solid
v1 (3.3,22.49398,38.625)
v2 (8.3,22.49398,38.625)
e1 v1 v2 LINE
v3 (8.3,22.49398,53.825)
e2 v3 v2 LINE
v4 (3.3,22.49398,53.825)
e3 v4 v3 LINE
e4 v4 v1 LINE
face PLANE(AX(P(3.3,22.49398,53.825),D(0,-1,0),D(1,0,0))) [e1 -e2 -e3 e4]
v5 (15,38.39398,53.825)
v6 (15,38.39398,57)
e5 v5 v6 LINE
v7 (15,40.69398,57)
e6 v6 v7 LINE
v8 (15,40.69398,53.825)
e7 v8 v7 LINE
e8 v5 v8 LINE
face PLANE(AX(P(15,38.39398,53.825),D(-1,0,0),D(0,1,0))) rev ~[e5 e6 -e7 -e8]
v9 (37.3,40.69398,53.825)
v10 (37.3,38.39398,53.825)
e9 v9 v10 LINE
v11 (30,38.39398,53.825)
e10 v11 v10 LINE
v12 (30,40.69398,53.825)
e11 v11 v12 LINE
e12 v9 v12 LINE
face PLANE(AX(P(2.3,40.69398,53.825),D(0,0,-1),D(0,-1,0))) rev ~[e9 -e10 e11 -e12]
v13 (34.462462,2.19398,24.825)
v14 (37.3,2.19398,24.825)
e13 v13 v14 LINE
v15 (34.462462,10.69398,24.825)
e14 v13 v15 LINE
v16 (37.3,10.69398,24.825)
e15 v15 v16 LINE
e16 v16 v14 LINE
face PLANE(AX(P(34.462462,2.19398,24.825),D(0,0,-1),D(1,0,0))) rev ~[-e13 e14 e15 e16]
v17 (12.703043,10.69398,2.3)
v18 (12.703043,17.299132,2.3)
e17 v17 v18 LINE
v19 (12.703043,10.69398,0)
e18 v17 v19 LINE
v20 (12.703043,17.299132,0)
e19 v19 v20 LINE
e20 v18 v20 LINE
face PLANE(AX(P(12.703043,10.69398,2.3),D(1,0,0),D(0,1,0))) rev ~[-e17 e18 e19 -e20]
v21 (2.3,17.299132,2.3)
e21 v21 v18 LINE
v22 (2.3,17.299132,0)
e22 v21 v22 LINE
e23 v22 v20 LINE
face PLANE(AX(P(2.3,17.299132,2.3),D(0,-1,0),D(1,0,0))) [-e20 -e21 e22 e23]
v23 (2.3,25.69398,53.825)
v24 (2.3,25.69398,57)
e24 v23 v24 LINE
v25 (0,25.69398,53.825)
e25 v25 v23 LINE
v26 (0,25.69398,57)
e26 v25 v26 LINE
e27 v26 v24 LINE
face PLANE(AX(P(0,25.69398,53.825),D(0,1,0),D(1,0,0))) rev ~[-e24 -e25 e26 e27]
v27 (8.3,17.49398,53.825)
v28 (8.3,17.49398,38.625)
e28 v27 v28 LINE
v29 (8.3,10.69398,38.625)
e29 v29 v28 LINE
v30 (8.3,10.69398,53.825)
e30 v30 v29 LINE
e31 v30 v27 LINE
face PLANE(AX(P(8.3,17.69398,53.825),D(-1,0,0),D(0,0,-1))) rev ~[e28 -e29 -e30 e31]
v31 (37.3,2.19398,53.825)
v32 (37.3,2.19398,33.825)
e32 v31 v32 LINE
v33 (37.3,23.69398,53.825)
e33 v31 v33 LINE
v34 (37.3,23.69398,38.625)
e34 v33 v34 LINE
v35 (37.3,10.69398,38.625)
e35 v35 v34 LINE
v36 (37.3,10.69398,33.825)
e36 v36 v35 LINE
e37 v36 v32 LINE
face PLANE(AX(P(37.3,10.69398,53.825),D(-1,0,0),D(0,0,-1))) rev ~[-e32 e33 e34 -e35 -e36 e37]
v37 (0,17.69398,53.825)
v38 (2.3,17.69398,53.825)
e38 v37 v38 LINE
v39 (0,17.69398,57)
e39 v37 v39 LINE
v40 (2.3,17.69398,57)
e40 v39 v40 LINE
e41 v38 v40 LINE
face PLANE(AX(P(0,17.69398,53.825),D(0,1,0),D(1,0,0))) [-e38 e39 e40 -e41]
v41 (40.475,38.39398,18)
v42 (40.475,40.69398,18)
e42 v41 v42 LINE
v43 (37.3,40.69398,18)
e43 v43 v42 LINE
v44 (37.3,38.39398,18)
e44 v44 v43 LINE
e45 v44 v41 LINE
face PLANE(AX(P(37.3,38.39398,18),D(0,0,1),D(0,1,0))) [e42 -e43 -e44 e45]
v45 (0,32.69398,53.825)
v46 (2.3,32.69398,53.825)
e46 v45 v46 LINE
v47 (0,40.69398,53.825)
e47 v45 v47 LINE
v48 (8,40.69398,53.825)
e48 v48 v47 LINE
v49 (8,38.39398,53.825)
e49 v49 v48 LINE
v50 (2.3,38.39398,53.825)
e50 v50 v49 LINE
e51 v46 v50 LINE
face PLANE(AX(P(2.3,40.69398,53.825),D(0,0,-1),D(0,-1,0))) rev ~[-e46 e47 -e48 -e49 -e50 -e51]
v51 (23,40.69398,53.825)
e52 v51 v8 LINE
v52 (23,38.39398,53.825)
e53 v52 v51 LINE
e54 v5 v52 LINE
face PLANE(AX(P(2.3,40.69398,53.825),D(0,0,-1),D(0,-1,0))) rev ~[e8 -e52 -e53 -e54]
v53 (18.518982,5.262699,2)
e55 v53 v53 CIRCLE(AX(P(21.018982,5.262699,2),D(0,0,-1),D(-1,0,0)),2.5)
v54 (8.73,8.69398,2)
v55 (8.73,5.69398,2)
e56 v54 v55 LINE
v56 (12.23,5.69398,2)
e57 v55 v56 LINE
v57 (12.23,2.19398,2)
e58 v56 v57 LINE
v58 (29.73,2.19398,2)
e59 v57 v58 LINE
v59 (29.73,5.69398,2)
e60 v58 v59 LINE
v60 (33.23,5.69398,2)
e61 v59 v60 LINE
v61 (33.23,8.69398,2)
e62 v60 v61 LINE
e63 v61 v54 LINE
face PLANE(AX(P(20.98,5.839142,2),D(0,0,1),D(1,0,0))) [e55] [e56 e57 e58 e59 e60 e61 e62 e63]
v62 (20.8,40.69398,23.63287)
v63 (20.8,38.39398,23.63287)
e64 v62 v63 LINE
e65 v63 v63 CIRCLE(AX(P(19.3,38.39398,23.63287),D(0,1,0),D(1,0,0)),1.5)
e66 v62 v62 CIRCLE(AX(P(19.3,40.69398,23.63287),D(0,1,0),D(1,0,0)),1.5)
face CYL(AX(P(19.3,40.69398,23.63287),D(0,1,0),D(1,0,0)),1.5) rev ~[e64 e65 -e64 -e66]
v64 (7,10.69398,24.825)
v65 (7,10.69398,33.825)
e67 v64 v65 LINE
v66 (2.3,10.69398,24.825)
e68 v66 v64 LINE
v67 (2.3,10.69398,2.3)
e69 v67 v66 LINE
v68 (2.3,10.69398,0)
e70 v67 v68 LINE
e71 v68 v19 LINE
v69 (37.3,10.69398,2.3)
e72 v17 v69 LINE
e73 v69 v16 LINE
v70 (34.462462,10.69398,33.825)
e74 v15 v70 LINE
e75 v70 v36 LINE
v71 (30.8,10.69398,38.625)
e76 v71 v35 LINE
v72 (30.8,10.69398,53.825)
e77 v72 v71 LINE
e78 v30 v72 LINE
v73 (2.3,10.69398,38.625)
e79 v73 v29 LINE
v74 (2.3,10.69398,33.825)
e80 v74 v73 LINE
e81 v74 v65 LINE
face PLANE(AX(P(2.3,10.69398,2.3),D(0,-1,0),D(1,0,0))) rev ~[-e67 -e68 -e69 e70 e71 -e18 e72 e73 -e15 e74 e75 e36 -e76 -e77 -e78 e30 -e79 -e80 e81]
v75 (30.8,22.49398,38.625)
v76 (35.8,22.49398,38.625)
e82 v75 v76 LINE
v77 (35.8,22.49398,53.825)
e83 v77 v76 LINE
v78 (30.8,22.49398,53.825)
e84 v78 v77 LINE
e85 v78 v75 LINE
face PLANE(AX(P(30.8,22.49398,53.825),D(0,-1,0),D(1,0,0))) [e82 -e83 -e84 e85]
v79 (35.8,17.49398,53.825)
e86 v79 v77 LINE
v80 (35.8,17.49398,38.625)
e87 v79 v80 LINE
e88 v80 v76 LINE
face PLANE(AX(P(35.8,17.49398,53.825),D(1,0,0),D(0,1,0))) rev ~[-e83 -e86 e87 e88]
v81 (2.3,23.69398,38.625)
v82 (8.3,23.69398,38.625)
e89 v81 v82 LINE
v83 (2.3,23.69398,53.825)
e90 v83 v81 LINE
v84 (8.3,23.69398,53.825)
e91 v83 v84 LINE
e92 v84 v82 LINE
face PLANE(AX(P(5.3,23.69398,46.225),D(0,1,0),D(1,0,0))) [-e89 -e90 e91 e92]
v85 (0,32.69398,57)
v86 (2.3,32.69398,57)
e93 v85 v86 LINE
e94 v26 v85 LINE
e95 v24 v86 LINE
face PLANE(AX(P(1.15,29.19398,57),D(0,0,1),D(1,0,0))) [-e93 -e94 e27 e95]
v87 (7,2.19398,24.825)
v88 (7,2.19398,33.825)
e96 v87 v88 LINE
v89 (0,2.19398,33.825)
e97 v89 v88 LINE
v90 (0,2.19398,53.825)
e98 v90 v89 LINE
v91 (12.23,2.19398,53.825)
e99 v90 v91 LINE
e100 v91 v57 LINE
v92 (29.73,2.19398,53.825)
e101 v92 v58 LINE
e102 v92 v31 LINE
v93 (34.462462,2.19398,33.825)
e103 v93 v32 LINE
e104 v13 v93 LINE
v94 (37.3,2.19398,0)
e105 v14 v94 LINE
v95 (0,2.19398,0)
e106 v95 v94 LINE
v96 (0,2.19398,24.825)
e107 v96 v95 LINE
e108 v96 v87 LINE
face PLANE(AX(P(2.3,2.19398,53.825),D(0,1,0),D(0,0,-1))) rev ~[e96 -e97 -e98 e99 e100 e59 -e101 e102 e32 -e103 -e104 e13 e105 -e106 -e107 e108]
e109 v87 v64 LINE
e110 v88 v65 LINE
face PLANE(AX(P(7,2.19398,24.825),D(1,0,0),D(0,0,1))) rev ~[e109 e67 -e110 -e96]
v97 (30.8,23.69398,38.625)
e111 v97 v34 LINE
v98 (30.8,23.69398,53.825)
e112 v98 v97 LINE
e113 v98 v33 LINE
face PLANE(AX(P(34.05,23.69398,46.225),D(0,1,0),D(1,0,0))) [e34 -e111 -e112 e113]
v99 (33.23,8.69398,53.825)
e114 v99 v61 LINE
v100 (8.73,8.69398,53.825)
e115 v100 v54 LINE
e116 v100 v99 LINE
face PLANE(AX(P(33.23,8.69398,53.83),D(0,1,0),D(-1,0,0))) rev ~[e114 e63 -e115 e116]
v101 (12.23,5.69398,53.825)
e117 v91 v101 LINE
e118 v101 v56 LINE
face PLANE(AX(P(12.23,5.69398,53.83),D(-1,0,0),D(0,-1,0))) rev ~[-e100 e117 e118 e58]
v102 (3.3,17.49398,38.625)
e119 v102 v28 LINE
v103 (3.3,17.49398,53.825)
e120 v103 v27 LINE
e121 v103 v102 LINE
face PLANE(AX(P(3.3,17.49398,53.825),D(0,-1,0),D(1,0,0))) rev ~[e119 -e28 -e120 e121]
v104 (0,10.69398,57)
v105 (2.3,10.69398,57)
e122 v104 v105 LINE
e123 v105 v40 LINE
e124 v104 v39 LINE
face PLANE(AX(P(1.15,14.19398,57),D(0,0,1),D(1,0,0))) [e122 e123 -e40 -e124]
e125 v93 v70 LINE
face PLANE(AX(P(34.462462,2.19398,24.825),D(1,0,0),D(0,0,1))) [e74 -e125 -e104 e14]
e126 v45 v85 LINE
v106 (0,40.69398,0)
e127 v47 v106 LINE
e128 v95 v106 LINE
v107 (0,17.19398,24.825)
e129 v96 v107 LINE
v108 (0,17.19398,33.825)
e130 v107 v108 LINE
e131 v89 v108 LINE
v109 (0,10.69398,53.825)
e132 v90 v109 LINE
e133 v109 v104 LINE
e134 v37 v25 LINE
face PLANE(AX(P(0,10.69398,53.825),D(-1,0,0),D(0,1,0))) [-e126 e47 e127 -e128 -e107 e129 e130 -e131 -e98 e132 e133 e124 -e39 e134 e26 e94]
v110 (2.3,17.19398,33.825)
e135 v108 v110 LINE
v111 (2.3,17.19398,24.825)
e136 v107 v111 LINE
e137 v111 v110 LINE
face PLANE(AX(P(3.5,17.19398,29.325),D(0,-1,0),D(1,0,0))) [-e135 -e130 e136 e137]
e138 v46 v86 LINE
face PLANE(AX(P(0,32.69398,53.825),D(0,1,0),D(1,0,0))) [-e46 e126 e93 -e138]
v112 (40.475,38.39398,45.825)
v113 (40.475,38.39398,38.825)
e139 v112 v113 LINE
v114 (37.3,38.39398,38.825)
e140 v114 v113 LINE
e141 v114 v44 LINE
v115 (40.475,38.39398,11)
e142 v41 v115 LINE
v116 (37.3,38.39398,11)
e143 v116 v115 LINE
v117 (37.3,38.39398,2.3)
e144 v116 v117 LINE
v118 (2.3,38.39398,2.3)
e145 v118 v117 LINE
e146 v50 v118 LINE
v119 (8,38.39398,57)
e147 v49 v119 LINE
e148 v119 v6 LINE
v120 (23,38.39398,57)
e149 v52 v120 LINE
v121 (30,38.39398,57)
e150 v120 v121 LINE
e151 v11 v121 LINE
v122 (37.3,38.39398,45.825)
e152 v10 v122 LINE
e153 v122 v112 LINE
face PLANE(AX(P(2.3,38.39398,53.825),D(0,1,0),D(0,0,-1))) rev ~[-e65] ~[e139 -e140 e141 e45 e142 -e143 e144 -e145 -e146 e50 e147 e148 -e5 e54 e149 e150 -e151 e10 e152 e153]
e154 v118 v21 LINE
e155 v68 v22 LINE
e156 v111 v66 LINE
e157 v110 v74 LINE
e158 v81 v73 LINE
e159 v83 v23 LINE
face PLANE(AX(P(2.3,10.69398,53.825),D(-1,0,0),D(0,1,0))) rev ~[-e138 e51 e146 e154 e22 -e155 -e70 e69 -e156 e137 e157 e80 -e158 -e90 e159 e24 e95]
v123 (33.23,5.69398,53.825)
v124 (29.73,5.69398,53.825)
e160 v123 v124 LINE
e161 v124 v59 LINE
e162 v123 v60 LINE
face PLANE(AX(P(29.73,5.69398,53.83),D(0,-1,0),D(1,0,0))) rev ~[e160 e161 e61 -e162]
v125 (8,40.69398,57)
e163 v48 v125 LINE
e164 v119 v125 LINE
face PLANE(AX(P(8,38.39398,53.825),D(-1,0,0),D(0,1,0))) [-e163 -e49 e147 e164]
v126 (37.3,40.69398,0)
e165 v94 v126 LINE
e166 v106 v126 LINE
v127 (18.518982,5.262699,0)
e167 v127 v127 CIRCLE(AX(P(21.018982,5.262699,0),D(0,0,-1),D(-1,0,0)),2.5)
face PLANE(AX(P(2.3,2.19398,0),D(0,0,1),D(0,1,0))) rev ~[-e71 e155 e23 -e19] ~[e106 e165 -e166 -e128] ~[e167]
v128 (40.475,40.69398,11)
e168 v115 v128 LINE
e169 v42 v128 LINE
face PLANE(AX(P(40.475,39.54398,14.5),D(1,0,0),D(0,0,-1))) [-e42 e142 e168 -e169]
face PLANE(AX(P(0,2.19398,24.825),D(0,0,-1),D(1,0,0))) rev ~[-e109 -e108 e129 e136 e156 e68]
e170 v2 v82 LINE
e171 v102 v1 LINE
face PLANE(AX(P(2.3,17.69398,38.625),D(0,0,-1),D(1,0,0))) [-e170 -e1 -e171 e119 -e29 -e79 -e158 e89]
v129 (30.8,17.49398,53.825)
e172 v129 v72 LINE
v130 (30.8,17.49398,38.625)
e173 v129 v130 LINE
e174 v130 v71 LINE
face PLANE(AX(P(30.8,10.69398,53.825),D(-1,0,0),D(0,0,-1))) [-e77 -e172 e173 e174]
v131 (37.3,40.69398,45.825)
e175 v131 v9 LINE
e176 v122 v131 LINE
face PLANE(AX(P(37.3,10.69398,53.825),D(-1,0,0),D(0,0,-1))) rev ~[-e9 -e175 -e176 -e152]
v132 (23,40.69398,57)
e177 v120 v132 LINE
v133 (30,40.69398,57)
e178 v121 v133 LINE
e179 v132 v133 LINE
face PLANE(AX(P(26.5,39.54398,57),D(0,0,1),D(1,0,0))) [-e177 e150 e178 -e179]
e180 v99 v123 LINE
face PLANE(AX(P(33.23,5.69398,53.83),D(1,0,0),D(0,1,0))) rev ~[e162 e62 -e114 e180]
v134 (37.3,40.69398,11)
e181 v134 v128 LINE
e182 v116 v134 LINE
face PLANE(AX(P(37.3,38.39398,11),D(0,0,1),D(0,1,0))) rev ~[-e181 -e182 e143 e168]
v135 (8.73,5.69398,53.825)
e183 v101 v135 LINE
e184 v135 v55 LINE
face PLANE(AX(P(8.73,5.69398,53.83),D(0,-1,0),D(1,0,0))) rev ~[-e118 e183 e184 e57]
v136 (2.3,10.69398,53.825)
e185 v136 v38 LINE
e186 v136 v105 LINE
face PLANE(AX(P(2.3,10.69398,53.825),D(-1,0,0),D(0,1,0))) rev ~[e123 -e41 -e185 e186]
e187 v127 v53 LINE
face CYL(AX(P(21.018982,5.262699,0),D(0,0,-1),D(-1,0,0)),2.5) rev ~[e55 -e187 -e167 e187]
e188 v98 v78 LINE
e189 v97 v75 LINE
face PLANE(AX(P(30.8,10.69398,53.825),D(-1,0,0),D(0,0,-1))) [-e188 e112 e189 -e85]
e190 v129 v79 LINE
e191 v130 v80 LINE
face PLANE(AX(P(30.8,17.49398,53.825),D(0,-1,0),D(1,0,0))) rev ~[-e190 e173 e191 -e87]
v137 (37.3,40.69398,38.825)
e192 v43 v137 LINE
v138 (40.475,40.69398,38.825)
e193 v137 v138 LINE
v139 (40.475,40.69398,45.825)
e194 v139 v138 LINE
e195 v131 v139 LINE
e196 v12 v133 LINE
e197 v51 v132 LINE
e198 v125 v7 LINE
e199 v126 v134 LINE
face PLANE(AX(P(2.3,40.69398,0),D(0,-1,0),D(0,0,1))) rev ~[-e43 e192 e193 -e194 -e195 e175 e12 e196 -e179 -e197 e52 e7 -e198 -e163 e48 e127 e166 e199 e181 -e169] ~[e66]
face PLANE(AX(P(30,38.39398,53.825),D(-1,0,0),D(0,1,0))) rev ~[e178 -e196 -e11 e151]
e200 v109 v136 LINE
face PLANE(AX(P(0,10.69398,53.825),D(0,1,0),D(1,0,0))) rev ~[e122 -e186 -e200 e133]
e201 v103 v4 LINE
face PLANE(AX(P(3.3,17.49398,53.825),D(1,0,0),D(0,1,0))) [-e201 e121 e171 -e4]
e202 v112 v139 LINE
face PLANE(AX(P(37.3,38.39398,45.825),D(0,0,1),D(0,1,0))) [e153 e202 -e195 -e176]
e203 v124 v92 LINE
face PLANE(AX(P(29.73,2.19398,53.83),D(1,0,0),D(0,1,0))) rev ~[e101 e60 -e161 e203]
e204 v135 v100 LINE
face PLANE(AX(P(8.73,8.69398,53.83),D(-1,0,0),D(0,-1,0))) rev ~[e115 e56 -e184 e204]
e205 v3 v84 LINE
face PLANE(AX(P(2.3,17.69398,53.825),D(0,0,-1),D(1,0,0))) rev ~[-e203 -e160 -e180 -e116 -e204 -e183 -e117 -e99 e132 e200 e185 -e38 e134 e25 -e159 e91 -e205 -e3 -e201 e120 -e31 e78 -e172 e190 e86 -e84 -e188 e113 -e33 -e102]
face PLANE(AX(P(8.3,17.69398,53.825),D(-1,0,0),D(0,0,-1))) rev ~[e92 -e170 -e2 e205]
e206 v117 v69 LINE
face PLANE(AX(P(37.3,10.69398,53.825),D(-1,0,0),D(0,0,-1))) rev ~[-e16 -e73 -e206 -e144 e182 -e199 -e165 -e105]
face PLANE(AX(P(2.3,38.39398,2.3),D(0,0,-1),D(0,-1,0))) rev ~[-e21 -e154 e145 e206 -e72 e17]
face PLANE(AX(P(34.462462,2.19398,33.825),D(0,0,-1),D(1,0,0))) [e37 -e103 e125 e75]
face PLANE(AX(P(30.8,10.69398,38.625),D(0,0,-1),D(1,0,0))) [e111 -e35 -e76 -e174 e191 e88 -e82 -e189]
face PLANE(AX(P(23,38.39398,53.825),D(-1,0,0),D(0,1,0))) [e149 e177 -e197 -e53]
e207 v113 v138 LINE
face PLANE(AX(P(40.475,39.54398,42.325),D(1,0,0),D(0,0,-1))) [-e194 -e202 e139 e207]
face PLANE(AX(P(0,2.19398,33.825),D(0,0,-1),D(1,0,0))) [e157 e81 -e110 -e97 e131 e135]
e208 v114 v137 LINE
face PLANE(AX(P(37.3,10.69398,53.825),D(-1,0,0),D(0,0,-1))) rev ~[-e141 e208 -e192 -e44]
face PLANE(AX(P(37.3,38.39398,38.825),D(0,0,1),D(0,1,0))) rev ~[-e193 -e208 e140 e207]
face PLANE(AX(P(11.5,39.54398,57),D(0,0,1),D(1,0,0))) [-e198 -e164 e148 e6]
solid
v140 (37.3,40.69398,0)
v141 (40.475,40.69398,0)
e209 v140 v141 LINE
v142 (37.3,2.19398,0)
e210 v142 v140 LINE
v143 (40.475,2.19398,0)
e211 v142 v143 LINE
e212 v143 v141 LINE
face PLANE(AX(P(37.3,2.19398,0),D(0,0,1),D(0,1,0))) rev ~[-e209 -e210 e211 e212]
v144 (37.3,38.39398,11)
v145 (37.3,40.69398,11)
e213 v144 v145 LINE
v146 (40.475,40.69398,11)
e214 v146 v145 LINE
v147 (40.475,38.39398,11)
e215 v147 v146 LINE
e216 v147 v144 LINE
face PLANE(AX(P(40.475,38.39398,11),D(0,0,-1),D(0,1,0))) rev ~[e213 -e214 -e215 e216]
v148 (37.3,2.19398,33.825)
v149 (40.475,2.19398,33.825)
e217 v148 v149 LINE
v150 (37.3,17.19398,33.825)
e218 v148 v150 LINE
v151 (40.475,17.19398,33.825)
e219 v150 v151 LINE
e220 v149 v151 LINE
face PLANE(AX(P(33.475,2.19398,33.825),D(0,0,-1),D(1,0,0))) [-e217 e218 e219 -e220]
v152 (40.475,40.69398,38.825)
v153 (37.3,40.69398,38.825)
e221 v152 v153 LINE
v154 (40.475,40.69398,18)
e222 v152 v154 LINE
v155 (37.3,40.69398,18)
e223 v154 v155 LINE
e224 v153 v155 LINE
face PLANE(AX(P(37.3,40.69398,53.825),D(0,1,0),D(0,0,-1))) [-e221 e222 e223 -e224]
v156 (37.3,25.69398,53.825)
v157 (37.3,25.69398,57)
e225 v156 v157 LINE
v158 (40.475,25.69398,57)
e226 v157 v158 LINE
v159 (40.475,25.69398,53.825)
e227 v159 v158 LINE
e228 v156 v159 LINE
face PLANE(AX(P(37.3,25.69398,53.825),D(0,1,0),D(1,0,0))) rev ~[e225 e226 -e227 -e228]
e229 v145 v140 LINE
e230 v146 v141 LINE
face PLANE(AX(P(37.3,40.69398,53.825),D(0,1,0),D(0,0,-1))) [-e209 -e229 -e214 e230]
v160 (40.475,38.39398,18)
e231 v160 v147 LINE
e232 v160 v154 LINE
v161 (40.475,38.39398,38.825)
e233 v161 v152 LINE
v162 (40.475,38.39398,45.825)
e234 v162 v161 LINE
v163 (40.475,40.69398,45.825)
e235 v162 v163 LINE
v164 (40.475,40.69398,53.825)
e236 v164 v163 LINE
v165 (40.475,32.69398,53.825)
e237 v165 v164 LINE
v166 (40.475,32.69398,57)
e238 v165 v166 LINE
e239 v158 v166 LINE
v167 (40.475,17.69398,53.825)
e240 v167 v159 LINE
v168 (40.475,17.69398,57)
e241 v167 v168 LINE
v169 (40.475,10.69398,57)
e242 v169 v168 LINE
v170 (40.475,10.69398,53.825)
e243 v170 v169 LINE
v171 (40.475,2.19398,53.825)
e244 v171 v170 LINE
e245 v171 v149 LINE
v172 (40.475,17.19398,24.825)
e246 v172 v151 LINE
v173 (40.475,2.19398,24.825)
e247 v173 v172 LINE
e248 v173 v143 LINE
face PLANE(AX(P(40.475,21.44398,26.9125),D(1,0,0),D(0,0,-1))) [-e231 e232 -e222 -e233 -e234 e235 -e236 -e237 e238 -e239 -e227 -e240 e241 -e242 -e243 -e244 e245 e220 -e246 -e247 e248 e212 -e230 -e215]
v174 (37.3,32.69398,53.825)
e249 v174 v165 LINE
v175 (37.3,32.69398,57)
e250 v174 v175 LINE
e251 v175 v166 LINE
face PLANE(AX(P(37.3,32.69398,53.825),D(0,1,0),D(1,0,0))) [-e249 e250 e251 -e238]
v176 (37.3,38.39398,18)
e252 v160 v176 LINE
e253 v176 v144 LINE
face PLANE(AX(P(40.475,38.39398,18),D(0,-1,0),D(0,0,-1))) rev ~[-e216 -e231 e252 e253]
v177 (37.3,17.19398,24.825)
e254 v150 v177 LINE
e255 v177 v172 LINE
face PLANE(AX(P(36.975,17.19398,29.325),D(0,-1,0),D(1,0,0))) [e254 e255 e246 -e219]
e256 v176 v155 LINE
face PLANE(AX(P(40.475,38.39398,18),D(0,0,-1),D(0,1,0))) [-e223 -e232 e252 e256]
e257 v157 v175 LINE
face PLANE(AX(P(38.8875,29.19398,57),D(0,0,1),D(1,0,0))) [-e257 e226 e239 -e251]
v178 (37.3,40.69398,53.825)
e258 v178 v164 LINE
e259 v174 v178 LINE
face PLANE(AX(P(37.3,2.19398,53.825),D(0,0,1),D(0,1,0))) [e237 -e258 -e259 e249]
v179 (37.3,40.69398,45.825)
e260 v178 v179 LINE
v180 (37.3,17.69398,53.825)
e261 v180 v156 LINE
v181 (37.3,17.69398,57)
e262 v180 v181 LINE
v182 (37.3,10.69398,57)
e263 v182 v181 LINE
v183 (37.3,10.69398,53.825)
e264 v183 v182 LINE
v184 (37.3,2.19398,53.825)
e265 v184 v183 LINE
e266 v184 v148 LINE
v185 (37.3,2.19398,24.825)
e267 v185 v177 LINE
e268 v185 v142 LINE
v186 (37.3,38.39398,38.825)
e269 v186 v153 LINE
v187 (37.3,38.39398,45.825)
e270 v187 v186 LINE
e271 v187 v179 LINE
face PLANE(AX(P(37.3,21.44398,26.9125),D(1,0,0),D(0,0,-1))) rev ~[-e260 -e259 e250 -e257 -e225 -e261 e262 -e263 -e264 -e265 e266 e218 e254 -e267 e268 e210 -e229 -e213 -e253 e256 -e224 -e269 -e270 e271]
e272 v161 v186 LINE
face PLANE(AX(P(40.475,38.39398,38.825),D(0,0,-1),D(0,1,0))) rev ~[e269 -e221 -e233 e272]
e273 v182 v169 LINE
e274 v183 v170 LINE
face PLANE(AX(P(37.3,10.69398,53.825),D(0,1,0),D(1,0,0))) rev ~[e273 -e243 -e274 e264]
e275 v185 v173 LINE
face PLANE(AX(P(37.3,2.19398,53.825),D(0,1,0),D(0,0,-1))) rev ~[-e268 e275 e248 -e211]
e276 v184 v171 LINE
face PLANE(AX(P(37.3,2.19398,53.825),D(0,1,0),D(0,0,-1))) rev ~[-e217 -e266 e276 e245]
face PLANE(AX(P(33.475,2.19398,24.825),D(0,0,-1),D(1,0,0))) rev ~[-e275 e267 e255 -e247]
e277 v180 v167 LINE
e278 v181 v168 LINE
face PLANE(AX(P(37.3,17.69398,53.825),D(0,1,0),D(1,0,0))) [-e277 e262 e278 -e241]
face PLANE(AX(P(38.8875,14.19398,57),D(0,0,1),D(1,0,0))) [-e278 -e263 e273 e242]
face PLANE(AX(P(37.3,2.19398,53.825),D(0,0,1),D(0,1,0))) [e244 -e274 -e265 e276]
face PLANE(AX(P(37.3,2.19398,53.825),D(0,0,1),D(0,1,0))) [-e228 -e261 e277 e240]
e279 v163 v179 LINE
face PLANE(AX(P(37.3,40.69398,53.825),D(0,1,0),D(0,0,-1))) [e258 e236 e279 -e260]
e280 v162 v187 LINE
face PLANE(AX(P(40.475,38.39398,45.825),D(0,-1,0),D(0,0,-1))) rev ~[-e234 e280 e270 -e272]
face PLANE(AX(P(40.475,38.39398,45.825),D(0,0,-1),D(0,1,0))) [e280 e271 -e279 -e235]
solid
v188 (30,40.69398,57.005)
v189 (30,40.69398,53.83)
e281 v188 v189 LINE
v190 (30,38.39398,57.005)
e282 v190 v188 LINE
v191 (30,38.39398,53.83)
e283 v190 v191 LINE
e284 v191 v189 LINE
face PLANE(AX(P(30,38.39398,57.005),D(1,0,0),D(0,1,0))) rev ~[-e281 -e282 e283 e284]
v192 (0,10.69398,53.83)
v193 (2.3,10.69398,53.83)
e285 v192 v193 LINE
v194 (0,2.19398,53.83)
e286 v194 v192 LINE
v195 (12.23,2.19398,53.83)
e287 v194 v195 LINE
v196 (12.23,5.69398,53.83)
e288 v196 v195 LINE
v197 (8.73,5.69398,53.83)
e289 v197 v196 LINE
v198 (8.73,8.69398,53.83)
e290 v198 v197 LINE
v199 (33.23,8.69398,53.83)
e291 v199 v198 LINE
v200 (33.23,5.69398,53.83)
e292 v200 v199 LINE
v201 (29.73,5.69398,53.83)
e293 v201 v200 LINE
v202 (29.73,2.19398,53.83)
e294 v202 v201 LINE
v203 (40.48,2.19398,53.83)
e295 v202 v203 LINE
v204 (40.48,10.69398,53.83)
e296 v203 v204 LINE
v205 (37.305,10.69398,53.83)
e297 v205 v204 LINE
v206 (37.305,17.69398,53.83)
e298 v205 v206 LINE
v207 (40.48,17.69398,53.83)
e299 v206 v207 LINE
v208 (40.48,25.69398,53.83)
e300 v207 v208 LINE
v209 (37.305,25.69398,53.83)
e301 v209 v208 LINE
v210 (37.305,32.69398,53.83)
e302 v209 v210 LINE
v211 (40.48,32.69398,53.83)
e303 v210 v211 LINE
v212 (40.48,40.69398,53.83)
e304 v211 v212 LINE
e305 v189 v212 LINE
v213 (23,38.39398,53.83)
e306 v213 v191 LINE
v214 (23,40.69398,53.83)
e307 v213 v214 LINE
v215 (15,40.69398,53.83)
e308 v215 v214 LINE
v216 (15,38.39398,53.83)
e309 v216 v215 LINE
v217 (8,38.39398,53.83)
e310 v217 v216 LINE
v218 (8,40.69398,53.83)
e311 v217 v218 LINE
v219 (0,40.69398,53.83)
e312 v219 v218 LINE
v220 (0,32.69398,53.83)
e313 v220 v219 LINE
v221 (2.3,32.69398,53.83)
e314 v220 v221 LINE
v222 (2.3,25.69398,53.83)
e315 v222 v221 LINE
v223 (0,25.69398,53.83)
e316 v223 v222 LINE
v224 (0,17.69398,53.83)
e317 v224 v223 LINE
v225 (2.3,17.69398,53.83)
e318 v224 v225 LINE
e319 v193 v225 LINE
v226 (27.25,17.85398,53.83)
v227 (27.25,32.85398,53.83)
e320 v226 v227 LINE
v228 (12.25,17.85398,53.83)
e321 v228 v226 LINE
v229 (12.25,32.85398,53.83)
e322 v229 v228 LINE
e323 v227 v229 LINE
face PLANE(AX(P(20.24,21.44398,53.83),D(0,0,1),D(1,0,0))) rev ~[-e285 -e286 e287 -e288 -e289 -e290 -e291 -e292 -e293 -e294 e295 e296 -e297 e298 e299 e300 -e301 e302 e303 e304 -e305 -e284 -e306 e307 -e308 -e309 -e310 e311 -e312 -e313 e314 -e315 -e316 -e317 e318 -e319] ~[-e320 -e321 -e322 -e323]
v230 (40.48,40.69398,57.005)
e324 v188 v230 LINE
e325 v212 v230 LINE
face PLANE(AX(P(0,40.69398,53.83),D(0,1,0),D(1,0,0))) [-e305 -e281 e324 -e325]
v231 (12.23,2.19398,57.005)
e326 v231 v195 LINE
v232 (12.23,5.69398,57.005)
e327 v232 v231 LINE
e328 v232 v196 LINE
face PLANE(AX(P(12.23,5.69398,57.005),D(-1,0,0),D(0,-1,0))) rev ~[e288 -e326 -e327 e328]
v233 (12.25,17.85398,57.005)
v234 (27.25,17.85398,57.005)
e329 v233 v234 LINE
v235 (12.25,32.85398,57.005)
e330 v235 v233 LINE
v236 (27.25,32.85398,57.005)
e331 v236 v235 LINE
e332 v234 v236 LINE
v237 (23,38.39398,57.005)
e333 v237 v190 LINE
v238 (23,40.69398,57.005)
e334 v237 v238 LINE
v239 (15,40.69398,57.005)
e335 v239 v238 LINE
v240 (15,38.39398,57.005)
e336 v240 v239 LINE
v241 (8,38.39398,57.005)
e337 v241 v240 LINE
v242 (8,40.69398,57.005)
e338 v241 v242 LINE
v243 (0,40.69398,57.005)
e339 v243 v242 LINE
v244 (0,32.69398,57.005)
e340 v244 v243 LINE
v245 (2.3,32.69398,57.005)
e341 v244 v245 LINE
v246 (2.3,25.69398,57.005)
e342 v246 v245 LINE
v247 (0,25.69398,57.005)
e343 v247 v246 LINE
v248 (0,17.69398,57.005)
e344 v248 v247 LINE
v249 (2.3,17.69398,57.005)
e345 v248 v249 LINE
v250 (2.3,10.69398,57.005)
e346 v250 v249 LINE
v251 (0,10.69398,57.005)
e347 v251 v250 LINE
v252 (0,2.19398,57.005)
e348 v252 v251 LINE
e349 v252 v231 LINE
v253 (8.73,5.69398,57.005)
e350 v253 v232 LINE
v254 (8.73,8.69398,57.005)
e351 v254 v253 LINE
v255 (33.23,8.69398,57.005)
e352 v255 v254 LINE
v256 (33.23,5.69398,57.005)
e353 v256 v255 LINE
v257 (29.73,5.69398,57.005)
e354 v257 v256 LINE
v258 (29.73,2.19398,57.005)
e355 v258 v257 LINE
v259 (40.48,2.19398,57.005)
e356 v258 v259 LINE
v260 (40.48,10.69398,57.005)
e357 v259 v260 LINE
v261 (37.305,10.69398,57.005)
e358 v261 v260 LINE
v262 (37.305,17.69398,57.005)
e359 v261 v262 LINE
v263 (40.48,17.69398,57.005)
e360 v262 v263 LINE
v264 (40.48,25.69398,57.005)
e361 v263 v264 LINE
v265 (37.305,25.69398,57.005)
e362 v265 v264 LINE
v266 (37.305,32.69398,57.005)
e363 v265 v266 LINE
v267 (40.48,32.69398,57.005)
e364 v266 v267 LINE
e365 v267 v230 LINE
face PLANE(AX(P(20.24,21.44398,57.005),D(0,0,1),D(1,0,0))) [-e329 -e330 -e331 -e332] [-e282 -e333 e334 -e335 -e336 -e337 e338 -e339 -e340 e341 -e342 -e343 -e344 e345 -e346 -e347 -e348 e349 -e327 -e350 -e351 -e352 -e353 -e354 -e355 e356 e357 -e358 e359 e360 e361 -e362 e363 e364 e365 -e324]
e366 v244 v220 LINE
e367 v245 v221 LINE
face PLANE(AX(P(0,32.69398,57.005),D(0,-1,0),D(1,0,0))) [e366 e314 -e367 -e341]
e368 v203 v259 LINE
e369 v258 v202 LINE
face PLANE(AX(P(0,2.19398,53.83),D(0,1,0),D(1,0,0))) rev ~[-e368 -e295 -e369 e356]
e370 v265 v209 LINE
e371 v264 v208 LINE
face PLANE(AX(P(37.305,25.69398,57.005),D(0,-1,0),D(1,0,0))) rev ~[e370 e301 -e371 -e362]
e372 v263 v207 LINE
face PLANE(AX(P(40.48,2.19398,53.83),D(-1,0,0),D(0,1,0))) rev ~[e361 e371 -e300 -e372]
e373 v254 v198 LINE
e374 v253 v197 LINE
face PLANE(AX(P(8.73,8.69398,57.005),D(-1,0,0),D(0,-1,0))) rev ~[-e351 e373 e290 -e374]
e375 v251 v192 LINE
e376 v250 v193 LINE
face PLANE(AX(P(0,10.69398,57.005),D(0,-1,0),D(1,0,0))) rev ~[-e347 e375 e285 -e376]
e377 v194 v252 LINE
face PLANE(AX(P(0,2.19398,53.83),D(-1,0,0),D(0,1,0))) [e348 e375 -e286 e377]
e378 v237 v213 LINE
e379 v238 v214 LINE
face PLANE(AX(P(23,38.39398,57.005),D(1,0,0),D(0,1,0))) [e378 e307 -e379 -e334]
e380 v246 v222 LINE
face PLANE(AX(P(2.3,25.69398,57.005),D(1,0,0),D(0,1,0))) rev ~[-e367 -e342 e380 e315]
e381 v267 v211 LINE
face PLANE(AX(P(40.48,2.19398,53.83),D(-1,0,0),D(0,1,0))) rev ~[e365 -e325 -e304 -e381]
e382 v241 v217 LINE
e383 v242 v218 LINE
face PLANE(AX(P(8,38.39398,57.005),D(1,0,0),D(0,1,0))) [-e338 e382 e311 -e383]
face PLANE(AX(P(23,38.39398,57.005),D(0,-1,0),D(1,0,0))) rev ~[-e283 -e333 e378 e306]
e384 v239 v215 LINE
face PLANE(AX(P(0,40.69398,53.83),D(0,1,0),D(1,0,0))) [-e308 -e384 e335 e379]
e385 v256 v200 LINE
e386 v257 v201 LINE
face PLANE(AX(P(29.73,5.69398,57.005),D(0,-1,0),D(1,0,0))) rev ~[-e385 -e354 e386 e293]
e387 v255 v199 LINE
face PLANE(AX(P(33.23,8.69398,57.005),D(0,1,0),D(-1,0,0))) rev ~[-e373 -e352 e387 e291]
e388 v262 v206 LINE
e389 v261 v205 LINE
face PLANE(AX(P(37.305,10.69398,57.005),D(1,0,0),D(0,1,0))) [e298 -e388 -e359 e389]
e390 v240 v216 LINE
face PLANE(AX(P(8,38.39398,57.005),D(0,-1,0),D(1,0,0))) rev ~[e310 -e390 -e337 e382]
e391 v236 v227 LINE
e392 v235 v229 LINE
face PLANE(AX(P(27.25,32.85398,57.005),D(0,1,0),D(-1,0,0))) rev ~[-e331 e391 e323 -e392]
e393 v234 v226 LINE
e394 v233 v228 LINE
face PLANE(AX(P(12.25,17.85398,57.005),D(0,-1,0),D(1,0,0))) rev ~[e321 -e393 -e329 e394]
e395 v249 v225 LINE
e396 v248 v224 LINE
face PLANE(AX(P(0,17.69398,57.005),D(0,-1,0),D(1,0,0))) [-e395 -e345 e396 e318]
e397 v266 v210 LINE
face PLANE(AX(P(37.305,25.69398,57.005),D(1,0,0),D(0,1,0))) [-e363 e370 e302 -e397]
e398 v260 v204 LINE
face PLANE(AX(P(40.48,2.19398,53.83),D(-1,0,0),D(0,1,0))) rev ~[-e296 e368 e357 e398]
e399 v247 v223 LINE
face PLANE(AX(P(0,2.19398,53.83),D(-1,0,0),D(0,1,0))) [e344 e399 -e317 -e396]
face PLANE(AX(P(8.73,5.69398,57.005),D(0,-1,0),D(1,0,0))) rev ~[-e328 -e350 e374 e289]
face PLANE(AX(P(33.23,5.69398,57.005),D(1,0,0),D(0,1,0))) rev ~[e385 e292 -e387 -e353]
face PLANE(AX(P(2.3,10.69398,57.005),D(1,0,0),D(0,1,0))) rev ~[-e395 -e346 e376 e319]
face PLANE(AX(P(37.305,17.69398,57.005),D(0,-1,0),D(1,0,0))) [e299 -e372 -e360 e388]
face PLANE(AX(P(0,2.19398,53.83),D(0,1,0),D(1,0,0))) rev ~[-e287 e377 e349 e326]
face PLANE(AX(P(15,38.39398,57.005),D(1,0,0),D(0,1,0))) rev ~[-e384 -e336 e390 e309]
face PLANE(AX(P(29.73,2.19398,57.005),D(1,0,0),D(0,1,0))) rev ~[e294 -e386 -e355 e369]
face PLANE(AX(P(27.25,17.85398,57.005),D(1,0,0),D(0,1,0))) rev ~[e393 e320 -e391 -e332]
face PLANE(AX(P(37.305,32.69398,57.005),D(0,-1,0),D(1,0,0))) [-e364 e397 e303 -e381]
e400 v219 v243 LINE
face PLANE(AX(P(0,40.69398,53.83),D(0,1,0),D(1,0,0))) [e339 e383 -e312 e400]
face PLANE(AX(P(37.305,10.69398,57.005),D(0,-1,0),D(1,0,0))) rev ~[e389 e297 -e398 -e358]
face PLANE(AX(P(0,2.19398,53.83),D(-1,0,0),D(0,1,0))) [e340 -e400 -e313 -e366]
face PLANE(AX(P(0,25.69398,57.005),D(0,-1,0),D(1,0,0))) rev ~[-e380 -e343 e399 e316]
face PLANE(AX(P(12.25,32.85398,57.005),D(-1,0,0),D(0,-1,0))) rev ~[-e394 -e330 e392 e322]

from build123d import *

# Parameters (mm, degrees)
SKETCH1_W                    = 53.825
SKETCH1_H                    = 38.5
MAIN_EXTRUDE_DEPTH           = 2.3
WALLS_DEPTH                  = 35
SKETCH36_W                   = 7
SKETCH36_H                   = 2.3
SKETCH36_W_2                 = 2.3
SKETCH36_H_2                 = 7
PUZZLE_MAIN_WALLS_DEPTH      = 3.175
SKETCH25_W                   = 10.403042977
SKETCH25_H                   = 6.605151166
WIRE_HOLE_DEPTH              = 3.3
SKETCH19_W                   = 6.5
SKETCH19_H                   = 15.2
SKETCH19_W_2                 = 6
IR_MOUNT_DEPTH               = 7
MAGNET_MOUNT_HOLE_DEPTH      = 51.83
SKETCH40_R                   = 1.5
LED_SPACE_DEPTH              = 3
SKETCH42_W                   = 7
SKETCH42_H                   = 2.3
BOSS_EXTRUDE15_DEPTH         = 3.175
SKETCH44_W                   = 6
SKETCH44_H                   = 15.2
SKETCH44_W_2                 = 6.5
BOSS_EXTRUDE16_DEPTH         = 6
SKETCH45_W                   = 5
SKETCH45_H                   = 5
IR_PLACEMENT_DEPTH           = 15.2
SKETCH47_R                   = 2.5
CUT_EXTRUDE2_DEPTH           = 2
SKETCH48_W                   = 7
SKETCH48_H                   = 9
CUT_EXTRUDE3_DEPTH           = 15
SKETCH6_W                    = 40.48
SKETCH6_H                    = 38.5
FRONT_LID_DEPTH              = 3.175
NOSEPOKE_HOLE_DEPTH          = 3.175
SKETCH34_W                   = 2.3
SKETCH34_H                   = 7
SKETCH34_W_2                 = 7
SKETCH34_H_2                 = 2.3
SKETCH34_W_3                 = 3.175
PUZZLE_FRONT_LID_DEPTH       = 3.175
MAGNET_MOUNT_FRONT_LID_DEPTH = 3.175
SKETCH20_W                   = 53.825
SKETCH20_H                   = 38.5
SIDE_MAIN_DEPTH              = 3.175
SKETCH37_W                   = 3.175
SKETCH37_H                   = 7
PUZZLE_SIDE_PART_DEPTH       = 3.175
SKETCH41_W                   = 7
SKETCH41_H                   = 2.3
CUT_EXTRUDE1_DEPTH           = 3.175
SKETCH49_W                   = 7
SKETCH49_H                   = 9
CUT_EXTRUDE4_DEPTH           = 15


with BuildPart() as part:
    # Sketch1 → main extrude (new body)
    with BuildSketch(Plane(origin=(0, 0, 0), x_dir=(0, 0, -1), z_dir=(1, 0, 0))):
        with Locations((-26.9125, 21.443980352)):
            Rectangle(SKETCH1_W, SKETCH1_H)
    extrude(amount=MAIN_EXTRUDE_DEPTH)

    # Sketch3 → walls (add)
    with BuildSketch(Plane(origin=(2.3, 0, 0), x_dir=(0, 0, -1), z_dir=(1, 0, 0))):
        Polygon((-2.3, 38.393980352), (-2.3, 10.693980352), (-53.825, 10.693980352), (-53.825, 2.193980352), (0, 2.193980352), (0, 40.693980352), (-53.825, 40.693980352), (-53.825, 38.393980352), align=None)
    extrude(amount=WALLS_DEPTH)

    # Sketch36 → Puzzle (main walls) (add)
    with BuildSketch(Plane.XY.offset(53.825)):
        with Locations((11.5, 39.543980352)):
            Rectangle(SKETCH36_W, SKETCH36_H)
        with Locations((26.5, 39.543980352)):
            Rectangle(SKETCH36_W, SKETCH36_H)
        with Locations((1.15, 29.193980352)):
            Rectangle(SKETCH36_W_2, SKETCH36_H_2)
        with Locations((1.15, 14.193980352)):
            Rectangle(SKETCH36_W_2, SKETCH36_H_2)
    extrude(amount=PUZZLE_MAIN_WALLS_DEPTH)

    # Sketch25 → Wire Hole (cut, through all)
    with BuildSketch(Plane.XY.offset(2.3)):
        with Locations((7.501521489, 13.996555935)):
            Rectangle(SKETCH25_W, SKETCH25_H)
    extrude(amount=-WIRE_HOLE_DEPTH, mode=Mode.SUBTRACT)

    # Sketch19 → IR mount (add)
    with BuildSketch(Plane(origin=(0, 10.693980352, 0), x_dir=(1, 0, 0), z_dir=(0, 1, 0))):
        with Locations((34.05, -46.225)):
            Rectangle(SKETCH19_W, SKETCH19_H)
        with Locations((5.3, -46.225)):
            Rectangle(SKETCH19_W_2, SKETCH19_H)
    extrude(amount=IR_MOUNT_DEPTH)

    # Sketch24 → Magnet Mount Hole (cut)
    with BuildSketch(Plane.XY.offset(53.83)):
        Polygon((12.23, 2.193980352), (29.73, 2.193980352), (29.73, 5.693980352), (33.23, 5.693980352), (33.23, 8.693980352), (8.73, 8.693980352), (8.73, 5.693980352), (12.23, 5.693980352), align=None)
    extrude(amount=-MAGNET_MOUNT_HOLE_DEPTH, mode=Mode.SUBTRACT)

    # Sketch40 → LED Space (cut)
    with BuildSketch(Plane(origin=(0, 40.693980352, 0), x_dir=(1, 0, 0), z_dir=(0, 1, 0))):
        with Locations((19.3, -23.632870167)):
            Circle(SKETCH40_R)
    extrude(amount=-LED_SPACE_DEPTH, mode=Mode.SUBTRACT)

    # Sketch42 → Boss-Extrude15 (add)
    with BuildSketch(Plane(origin=(37.3, 0, 0), x_dir=(0, 0, -1), z_dir=(1, 0, 0))):
        with Locations((-42.325, 39.543980352)):
            Rectangle(SKETCH42_W, SKETCH42_H)
        with Locations((-14.5, 39.543980352)):
            Rectangle(SKETCH42_W, SKETCH42_H)
    extrude(amount=BOSS_EXTRUDE15_DEPTH)

    # Sketch44 → Boss-Extrude16 (add)
    with BuildSketch(Plane(origin=(0, 17.693980352, 0), x_dir=(1, 0, 0), z_dir=(0, 1, 0))):
        with Locations((5.3, -46.225)):
            Rectangle(SKETCH44_W, SKETCH44_H)
        with Locations((34.05, -46.225)):
            Rectangle(SKETCH44_W_2, SKETCH44_H)
    extrude(amount=BOSS_EXTRUDE16_DEPTH)

    # Sketch45 → IR placement (cut)
    with BuildSketch(Plane.XY.offset(53.825)):
        with Locations((33.3, 19.993980352)):
            Rectangle(SKETCH45_W, SKETCH45_H)
        with Locations((5.8, 19.993980352)):
            Rectangle(SKETCH45_W, SKETCH45_H)
    extrude(amount=-IR_PLACEMENT_DEPTH, mode=Mode.SUBTRACT)

    # Sketch47 → Cut-Extrude2 (cut)
    with BuildSketch(Plane(origin=(0, 0, 0), x_dir=(-1, 0, 0), z_dir=(0, 0, -1))):
        with Locations((-21.018982331, 5.262699137)):
            Circle(SKETCH47_R)
    extrude(amount=-CUT_EXTRUDE2_DEPTH, mode=Mode.SUBTRACT)

    # Sketch48 → Cut-Extrude3 (cut)
    with BuildSketch(Plane.XZ.offset(-2.193980352)):
        with Locations((3.5, 29.325)):
            Rectangle(SKETCH48_W, SKETCH48_H)
        with Locations((37.962462444, 29.325)):
            Rectangle(SKETCH48_W, SKETCH48_H)
    extrude(amount=-CUT_EXTRUDE3_DEPTH, mode=Mode.SUBTRACT)


with BuildPart() as body_2:
    # Sketch6 → front lid (new body)
    with BuildSketch(Plane.XY.offset(53.83)):
        with Locations((20.24, 21.443980352)):
            Rectangle(SKETCH6_W, SKETCH6_H)
    extrude(amount=FRONT_LID_DEPTH)

    # Sketch7 → nosepoke hole (cut)
    with BuildSketch(Plane.XY.offset(57.005)):
        Polygon((19.75, 17.853980352), (27.25, 17.853980352), (27.25, 32.853980352), (12.25, 32.853980352), (12.25, 17.853980352), align=None)
    extrude(amount=-NOSEPOKE_HOLE_DEPTH, mode=Mode.SUBTRACT)

    # Sketch34 → Puzzle (Front Lid) (cut)
    with BuildSketch(Plane.XY.offset(57.005)):
        with Locations((1.15, 29.193980352)):
            Rectangle(SKETCH34_W, SKETCH34_H)
        with Locations((11.5, 39.543980352)):
            Rectangle(SKETCH34_W_2, SKETCH34_H_2)
        with Locations((26.5, 39.543980352)):
            Rectangle(SKETCH34_W_2, SKETCH34_H_2)
        with Locations((1.15, 14.193980352)):
            Rectangle(SKETCH34_W, SKETCH34_H)
        with Locations((38.8925, 29.193980352)):
            Rectangle(SKETCH34_W_3, SKETCH34_H)
        with Locations((38.8925, 14.193980352)):
            Rectangle(SKETCH34_W_3, SKETCH34_H)
    extrude(amount=-PUZZLE_FRONT_LID_DEPTH, mode=Mode.SUBTRACT)

    # Sketch46 → magnet mount front lid (cut)
    with BuildSketch(Plane.XY.offset(57.005)):
        Polygon((12.23, 2.193980352), (29.73, 2.193980352), (29.73, 5.693980352), (33.23, 5.693980352), (33.23, 8.693980352), (8.73, 8.693980352), (8.73, 5.693980352), (12.23, 5.693980352), align=None)
    extrude(amount=-MAGNET_MOUNT_FRONT_LID_DEPTH, mode=Mode.SUBTRACT)


with BuildPart() as body_3:
    # Sketch20 → Side main (new body)
    with BuildSketch(Plane(origin=(37.3, 0, 0), x_dir=(0, 0, -1), z_dir=(1, 0, 0))):
        with Locations((-26.9125, 21.443980352)):
            Rectangle(SKETCH20_W, SKETCH20_H)
    extrude(amount=SIDE_MAIN_DEPTH)

    # Sketch37 → Puzzle (side part) (add)
    with BuildSketch(Plane.XY.offset(53.825)):
        with Locations((38.8875, 29.193980352)):
            Rectangle(SKETCH37_W, SKETCH37_H)
        with Locations((38.8875, 14.193980352)):
            Rectangle(SKETCH37_W, SKETCH37_H)
    extrude(amount=PUZZLE_SIDE_PART_DEPTH)

    # Sketch41 → Cut-Extrude1 (cut)
    with BuildSketch(Plane(origin=(40.475, 0, 0), x_dir=(0, 0, -1), z_dir=(1, 0, 0))):
        with Locations((-42.325, 39.543980352)):
            Rectangle(SKETCH41_W, SKETCH41_H)
        with Locations((-14.5, 39.543980352)):
            Rectangle(SKETCH41_W, SKETCH41_H)
    extrude(amount=-CUT_EXTRUDE1_DEPTH, mode=Mode.SUBTRACT)

    # Sketch49 → Cut-Extrude4 (cut)
    with BuildSketch(Plane.XZ.offset(-2.193980352)):
        with Locations((36.975, 29.325)):
            Rectangle(SKETCH49_W, SKETCH49_H)
    extrude(amount=-CUT_EXTRUDE4_DEPTH, mode=Mode.SUBTRACT)


solid = Compound([part.part, body_2.part, body_3.part])
